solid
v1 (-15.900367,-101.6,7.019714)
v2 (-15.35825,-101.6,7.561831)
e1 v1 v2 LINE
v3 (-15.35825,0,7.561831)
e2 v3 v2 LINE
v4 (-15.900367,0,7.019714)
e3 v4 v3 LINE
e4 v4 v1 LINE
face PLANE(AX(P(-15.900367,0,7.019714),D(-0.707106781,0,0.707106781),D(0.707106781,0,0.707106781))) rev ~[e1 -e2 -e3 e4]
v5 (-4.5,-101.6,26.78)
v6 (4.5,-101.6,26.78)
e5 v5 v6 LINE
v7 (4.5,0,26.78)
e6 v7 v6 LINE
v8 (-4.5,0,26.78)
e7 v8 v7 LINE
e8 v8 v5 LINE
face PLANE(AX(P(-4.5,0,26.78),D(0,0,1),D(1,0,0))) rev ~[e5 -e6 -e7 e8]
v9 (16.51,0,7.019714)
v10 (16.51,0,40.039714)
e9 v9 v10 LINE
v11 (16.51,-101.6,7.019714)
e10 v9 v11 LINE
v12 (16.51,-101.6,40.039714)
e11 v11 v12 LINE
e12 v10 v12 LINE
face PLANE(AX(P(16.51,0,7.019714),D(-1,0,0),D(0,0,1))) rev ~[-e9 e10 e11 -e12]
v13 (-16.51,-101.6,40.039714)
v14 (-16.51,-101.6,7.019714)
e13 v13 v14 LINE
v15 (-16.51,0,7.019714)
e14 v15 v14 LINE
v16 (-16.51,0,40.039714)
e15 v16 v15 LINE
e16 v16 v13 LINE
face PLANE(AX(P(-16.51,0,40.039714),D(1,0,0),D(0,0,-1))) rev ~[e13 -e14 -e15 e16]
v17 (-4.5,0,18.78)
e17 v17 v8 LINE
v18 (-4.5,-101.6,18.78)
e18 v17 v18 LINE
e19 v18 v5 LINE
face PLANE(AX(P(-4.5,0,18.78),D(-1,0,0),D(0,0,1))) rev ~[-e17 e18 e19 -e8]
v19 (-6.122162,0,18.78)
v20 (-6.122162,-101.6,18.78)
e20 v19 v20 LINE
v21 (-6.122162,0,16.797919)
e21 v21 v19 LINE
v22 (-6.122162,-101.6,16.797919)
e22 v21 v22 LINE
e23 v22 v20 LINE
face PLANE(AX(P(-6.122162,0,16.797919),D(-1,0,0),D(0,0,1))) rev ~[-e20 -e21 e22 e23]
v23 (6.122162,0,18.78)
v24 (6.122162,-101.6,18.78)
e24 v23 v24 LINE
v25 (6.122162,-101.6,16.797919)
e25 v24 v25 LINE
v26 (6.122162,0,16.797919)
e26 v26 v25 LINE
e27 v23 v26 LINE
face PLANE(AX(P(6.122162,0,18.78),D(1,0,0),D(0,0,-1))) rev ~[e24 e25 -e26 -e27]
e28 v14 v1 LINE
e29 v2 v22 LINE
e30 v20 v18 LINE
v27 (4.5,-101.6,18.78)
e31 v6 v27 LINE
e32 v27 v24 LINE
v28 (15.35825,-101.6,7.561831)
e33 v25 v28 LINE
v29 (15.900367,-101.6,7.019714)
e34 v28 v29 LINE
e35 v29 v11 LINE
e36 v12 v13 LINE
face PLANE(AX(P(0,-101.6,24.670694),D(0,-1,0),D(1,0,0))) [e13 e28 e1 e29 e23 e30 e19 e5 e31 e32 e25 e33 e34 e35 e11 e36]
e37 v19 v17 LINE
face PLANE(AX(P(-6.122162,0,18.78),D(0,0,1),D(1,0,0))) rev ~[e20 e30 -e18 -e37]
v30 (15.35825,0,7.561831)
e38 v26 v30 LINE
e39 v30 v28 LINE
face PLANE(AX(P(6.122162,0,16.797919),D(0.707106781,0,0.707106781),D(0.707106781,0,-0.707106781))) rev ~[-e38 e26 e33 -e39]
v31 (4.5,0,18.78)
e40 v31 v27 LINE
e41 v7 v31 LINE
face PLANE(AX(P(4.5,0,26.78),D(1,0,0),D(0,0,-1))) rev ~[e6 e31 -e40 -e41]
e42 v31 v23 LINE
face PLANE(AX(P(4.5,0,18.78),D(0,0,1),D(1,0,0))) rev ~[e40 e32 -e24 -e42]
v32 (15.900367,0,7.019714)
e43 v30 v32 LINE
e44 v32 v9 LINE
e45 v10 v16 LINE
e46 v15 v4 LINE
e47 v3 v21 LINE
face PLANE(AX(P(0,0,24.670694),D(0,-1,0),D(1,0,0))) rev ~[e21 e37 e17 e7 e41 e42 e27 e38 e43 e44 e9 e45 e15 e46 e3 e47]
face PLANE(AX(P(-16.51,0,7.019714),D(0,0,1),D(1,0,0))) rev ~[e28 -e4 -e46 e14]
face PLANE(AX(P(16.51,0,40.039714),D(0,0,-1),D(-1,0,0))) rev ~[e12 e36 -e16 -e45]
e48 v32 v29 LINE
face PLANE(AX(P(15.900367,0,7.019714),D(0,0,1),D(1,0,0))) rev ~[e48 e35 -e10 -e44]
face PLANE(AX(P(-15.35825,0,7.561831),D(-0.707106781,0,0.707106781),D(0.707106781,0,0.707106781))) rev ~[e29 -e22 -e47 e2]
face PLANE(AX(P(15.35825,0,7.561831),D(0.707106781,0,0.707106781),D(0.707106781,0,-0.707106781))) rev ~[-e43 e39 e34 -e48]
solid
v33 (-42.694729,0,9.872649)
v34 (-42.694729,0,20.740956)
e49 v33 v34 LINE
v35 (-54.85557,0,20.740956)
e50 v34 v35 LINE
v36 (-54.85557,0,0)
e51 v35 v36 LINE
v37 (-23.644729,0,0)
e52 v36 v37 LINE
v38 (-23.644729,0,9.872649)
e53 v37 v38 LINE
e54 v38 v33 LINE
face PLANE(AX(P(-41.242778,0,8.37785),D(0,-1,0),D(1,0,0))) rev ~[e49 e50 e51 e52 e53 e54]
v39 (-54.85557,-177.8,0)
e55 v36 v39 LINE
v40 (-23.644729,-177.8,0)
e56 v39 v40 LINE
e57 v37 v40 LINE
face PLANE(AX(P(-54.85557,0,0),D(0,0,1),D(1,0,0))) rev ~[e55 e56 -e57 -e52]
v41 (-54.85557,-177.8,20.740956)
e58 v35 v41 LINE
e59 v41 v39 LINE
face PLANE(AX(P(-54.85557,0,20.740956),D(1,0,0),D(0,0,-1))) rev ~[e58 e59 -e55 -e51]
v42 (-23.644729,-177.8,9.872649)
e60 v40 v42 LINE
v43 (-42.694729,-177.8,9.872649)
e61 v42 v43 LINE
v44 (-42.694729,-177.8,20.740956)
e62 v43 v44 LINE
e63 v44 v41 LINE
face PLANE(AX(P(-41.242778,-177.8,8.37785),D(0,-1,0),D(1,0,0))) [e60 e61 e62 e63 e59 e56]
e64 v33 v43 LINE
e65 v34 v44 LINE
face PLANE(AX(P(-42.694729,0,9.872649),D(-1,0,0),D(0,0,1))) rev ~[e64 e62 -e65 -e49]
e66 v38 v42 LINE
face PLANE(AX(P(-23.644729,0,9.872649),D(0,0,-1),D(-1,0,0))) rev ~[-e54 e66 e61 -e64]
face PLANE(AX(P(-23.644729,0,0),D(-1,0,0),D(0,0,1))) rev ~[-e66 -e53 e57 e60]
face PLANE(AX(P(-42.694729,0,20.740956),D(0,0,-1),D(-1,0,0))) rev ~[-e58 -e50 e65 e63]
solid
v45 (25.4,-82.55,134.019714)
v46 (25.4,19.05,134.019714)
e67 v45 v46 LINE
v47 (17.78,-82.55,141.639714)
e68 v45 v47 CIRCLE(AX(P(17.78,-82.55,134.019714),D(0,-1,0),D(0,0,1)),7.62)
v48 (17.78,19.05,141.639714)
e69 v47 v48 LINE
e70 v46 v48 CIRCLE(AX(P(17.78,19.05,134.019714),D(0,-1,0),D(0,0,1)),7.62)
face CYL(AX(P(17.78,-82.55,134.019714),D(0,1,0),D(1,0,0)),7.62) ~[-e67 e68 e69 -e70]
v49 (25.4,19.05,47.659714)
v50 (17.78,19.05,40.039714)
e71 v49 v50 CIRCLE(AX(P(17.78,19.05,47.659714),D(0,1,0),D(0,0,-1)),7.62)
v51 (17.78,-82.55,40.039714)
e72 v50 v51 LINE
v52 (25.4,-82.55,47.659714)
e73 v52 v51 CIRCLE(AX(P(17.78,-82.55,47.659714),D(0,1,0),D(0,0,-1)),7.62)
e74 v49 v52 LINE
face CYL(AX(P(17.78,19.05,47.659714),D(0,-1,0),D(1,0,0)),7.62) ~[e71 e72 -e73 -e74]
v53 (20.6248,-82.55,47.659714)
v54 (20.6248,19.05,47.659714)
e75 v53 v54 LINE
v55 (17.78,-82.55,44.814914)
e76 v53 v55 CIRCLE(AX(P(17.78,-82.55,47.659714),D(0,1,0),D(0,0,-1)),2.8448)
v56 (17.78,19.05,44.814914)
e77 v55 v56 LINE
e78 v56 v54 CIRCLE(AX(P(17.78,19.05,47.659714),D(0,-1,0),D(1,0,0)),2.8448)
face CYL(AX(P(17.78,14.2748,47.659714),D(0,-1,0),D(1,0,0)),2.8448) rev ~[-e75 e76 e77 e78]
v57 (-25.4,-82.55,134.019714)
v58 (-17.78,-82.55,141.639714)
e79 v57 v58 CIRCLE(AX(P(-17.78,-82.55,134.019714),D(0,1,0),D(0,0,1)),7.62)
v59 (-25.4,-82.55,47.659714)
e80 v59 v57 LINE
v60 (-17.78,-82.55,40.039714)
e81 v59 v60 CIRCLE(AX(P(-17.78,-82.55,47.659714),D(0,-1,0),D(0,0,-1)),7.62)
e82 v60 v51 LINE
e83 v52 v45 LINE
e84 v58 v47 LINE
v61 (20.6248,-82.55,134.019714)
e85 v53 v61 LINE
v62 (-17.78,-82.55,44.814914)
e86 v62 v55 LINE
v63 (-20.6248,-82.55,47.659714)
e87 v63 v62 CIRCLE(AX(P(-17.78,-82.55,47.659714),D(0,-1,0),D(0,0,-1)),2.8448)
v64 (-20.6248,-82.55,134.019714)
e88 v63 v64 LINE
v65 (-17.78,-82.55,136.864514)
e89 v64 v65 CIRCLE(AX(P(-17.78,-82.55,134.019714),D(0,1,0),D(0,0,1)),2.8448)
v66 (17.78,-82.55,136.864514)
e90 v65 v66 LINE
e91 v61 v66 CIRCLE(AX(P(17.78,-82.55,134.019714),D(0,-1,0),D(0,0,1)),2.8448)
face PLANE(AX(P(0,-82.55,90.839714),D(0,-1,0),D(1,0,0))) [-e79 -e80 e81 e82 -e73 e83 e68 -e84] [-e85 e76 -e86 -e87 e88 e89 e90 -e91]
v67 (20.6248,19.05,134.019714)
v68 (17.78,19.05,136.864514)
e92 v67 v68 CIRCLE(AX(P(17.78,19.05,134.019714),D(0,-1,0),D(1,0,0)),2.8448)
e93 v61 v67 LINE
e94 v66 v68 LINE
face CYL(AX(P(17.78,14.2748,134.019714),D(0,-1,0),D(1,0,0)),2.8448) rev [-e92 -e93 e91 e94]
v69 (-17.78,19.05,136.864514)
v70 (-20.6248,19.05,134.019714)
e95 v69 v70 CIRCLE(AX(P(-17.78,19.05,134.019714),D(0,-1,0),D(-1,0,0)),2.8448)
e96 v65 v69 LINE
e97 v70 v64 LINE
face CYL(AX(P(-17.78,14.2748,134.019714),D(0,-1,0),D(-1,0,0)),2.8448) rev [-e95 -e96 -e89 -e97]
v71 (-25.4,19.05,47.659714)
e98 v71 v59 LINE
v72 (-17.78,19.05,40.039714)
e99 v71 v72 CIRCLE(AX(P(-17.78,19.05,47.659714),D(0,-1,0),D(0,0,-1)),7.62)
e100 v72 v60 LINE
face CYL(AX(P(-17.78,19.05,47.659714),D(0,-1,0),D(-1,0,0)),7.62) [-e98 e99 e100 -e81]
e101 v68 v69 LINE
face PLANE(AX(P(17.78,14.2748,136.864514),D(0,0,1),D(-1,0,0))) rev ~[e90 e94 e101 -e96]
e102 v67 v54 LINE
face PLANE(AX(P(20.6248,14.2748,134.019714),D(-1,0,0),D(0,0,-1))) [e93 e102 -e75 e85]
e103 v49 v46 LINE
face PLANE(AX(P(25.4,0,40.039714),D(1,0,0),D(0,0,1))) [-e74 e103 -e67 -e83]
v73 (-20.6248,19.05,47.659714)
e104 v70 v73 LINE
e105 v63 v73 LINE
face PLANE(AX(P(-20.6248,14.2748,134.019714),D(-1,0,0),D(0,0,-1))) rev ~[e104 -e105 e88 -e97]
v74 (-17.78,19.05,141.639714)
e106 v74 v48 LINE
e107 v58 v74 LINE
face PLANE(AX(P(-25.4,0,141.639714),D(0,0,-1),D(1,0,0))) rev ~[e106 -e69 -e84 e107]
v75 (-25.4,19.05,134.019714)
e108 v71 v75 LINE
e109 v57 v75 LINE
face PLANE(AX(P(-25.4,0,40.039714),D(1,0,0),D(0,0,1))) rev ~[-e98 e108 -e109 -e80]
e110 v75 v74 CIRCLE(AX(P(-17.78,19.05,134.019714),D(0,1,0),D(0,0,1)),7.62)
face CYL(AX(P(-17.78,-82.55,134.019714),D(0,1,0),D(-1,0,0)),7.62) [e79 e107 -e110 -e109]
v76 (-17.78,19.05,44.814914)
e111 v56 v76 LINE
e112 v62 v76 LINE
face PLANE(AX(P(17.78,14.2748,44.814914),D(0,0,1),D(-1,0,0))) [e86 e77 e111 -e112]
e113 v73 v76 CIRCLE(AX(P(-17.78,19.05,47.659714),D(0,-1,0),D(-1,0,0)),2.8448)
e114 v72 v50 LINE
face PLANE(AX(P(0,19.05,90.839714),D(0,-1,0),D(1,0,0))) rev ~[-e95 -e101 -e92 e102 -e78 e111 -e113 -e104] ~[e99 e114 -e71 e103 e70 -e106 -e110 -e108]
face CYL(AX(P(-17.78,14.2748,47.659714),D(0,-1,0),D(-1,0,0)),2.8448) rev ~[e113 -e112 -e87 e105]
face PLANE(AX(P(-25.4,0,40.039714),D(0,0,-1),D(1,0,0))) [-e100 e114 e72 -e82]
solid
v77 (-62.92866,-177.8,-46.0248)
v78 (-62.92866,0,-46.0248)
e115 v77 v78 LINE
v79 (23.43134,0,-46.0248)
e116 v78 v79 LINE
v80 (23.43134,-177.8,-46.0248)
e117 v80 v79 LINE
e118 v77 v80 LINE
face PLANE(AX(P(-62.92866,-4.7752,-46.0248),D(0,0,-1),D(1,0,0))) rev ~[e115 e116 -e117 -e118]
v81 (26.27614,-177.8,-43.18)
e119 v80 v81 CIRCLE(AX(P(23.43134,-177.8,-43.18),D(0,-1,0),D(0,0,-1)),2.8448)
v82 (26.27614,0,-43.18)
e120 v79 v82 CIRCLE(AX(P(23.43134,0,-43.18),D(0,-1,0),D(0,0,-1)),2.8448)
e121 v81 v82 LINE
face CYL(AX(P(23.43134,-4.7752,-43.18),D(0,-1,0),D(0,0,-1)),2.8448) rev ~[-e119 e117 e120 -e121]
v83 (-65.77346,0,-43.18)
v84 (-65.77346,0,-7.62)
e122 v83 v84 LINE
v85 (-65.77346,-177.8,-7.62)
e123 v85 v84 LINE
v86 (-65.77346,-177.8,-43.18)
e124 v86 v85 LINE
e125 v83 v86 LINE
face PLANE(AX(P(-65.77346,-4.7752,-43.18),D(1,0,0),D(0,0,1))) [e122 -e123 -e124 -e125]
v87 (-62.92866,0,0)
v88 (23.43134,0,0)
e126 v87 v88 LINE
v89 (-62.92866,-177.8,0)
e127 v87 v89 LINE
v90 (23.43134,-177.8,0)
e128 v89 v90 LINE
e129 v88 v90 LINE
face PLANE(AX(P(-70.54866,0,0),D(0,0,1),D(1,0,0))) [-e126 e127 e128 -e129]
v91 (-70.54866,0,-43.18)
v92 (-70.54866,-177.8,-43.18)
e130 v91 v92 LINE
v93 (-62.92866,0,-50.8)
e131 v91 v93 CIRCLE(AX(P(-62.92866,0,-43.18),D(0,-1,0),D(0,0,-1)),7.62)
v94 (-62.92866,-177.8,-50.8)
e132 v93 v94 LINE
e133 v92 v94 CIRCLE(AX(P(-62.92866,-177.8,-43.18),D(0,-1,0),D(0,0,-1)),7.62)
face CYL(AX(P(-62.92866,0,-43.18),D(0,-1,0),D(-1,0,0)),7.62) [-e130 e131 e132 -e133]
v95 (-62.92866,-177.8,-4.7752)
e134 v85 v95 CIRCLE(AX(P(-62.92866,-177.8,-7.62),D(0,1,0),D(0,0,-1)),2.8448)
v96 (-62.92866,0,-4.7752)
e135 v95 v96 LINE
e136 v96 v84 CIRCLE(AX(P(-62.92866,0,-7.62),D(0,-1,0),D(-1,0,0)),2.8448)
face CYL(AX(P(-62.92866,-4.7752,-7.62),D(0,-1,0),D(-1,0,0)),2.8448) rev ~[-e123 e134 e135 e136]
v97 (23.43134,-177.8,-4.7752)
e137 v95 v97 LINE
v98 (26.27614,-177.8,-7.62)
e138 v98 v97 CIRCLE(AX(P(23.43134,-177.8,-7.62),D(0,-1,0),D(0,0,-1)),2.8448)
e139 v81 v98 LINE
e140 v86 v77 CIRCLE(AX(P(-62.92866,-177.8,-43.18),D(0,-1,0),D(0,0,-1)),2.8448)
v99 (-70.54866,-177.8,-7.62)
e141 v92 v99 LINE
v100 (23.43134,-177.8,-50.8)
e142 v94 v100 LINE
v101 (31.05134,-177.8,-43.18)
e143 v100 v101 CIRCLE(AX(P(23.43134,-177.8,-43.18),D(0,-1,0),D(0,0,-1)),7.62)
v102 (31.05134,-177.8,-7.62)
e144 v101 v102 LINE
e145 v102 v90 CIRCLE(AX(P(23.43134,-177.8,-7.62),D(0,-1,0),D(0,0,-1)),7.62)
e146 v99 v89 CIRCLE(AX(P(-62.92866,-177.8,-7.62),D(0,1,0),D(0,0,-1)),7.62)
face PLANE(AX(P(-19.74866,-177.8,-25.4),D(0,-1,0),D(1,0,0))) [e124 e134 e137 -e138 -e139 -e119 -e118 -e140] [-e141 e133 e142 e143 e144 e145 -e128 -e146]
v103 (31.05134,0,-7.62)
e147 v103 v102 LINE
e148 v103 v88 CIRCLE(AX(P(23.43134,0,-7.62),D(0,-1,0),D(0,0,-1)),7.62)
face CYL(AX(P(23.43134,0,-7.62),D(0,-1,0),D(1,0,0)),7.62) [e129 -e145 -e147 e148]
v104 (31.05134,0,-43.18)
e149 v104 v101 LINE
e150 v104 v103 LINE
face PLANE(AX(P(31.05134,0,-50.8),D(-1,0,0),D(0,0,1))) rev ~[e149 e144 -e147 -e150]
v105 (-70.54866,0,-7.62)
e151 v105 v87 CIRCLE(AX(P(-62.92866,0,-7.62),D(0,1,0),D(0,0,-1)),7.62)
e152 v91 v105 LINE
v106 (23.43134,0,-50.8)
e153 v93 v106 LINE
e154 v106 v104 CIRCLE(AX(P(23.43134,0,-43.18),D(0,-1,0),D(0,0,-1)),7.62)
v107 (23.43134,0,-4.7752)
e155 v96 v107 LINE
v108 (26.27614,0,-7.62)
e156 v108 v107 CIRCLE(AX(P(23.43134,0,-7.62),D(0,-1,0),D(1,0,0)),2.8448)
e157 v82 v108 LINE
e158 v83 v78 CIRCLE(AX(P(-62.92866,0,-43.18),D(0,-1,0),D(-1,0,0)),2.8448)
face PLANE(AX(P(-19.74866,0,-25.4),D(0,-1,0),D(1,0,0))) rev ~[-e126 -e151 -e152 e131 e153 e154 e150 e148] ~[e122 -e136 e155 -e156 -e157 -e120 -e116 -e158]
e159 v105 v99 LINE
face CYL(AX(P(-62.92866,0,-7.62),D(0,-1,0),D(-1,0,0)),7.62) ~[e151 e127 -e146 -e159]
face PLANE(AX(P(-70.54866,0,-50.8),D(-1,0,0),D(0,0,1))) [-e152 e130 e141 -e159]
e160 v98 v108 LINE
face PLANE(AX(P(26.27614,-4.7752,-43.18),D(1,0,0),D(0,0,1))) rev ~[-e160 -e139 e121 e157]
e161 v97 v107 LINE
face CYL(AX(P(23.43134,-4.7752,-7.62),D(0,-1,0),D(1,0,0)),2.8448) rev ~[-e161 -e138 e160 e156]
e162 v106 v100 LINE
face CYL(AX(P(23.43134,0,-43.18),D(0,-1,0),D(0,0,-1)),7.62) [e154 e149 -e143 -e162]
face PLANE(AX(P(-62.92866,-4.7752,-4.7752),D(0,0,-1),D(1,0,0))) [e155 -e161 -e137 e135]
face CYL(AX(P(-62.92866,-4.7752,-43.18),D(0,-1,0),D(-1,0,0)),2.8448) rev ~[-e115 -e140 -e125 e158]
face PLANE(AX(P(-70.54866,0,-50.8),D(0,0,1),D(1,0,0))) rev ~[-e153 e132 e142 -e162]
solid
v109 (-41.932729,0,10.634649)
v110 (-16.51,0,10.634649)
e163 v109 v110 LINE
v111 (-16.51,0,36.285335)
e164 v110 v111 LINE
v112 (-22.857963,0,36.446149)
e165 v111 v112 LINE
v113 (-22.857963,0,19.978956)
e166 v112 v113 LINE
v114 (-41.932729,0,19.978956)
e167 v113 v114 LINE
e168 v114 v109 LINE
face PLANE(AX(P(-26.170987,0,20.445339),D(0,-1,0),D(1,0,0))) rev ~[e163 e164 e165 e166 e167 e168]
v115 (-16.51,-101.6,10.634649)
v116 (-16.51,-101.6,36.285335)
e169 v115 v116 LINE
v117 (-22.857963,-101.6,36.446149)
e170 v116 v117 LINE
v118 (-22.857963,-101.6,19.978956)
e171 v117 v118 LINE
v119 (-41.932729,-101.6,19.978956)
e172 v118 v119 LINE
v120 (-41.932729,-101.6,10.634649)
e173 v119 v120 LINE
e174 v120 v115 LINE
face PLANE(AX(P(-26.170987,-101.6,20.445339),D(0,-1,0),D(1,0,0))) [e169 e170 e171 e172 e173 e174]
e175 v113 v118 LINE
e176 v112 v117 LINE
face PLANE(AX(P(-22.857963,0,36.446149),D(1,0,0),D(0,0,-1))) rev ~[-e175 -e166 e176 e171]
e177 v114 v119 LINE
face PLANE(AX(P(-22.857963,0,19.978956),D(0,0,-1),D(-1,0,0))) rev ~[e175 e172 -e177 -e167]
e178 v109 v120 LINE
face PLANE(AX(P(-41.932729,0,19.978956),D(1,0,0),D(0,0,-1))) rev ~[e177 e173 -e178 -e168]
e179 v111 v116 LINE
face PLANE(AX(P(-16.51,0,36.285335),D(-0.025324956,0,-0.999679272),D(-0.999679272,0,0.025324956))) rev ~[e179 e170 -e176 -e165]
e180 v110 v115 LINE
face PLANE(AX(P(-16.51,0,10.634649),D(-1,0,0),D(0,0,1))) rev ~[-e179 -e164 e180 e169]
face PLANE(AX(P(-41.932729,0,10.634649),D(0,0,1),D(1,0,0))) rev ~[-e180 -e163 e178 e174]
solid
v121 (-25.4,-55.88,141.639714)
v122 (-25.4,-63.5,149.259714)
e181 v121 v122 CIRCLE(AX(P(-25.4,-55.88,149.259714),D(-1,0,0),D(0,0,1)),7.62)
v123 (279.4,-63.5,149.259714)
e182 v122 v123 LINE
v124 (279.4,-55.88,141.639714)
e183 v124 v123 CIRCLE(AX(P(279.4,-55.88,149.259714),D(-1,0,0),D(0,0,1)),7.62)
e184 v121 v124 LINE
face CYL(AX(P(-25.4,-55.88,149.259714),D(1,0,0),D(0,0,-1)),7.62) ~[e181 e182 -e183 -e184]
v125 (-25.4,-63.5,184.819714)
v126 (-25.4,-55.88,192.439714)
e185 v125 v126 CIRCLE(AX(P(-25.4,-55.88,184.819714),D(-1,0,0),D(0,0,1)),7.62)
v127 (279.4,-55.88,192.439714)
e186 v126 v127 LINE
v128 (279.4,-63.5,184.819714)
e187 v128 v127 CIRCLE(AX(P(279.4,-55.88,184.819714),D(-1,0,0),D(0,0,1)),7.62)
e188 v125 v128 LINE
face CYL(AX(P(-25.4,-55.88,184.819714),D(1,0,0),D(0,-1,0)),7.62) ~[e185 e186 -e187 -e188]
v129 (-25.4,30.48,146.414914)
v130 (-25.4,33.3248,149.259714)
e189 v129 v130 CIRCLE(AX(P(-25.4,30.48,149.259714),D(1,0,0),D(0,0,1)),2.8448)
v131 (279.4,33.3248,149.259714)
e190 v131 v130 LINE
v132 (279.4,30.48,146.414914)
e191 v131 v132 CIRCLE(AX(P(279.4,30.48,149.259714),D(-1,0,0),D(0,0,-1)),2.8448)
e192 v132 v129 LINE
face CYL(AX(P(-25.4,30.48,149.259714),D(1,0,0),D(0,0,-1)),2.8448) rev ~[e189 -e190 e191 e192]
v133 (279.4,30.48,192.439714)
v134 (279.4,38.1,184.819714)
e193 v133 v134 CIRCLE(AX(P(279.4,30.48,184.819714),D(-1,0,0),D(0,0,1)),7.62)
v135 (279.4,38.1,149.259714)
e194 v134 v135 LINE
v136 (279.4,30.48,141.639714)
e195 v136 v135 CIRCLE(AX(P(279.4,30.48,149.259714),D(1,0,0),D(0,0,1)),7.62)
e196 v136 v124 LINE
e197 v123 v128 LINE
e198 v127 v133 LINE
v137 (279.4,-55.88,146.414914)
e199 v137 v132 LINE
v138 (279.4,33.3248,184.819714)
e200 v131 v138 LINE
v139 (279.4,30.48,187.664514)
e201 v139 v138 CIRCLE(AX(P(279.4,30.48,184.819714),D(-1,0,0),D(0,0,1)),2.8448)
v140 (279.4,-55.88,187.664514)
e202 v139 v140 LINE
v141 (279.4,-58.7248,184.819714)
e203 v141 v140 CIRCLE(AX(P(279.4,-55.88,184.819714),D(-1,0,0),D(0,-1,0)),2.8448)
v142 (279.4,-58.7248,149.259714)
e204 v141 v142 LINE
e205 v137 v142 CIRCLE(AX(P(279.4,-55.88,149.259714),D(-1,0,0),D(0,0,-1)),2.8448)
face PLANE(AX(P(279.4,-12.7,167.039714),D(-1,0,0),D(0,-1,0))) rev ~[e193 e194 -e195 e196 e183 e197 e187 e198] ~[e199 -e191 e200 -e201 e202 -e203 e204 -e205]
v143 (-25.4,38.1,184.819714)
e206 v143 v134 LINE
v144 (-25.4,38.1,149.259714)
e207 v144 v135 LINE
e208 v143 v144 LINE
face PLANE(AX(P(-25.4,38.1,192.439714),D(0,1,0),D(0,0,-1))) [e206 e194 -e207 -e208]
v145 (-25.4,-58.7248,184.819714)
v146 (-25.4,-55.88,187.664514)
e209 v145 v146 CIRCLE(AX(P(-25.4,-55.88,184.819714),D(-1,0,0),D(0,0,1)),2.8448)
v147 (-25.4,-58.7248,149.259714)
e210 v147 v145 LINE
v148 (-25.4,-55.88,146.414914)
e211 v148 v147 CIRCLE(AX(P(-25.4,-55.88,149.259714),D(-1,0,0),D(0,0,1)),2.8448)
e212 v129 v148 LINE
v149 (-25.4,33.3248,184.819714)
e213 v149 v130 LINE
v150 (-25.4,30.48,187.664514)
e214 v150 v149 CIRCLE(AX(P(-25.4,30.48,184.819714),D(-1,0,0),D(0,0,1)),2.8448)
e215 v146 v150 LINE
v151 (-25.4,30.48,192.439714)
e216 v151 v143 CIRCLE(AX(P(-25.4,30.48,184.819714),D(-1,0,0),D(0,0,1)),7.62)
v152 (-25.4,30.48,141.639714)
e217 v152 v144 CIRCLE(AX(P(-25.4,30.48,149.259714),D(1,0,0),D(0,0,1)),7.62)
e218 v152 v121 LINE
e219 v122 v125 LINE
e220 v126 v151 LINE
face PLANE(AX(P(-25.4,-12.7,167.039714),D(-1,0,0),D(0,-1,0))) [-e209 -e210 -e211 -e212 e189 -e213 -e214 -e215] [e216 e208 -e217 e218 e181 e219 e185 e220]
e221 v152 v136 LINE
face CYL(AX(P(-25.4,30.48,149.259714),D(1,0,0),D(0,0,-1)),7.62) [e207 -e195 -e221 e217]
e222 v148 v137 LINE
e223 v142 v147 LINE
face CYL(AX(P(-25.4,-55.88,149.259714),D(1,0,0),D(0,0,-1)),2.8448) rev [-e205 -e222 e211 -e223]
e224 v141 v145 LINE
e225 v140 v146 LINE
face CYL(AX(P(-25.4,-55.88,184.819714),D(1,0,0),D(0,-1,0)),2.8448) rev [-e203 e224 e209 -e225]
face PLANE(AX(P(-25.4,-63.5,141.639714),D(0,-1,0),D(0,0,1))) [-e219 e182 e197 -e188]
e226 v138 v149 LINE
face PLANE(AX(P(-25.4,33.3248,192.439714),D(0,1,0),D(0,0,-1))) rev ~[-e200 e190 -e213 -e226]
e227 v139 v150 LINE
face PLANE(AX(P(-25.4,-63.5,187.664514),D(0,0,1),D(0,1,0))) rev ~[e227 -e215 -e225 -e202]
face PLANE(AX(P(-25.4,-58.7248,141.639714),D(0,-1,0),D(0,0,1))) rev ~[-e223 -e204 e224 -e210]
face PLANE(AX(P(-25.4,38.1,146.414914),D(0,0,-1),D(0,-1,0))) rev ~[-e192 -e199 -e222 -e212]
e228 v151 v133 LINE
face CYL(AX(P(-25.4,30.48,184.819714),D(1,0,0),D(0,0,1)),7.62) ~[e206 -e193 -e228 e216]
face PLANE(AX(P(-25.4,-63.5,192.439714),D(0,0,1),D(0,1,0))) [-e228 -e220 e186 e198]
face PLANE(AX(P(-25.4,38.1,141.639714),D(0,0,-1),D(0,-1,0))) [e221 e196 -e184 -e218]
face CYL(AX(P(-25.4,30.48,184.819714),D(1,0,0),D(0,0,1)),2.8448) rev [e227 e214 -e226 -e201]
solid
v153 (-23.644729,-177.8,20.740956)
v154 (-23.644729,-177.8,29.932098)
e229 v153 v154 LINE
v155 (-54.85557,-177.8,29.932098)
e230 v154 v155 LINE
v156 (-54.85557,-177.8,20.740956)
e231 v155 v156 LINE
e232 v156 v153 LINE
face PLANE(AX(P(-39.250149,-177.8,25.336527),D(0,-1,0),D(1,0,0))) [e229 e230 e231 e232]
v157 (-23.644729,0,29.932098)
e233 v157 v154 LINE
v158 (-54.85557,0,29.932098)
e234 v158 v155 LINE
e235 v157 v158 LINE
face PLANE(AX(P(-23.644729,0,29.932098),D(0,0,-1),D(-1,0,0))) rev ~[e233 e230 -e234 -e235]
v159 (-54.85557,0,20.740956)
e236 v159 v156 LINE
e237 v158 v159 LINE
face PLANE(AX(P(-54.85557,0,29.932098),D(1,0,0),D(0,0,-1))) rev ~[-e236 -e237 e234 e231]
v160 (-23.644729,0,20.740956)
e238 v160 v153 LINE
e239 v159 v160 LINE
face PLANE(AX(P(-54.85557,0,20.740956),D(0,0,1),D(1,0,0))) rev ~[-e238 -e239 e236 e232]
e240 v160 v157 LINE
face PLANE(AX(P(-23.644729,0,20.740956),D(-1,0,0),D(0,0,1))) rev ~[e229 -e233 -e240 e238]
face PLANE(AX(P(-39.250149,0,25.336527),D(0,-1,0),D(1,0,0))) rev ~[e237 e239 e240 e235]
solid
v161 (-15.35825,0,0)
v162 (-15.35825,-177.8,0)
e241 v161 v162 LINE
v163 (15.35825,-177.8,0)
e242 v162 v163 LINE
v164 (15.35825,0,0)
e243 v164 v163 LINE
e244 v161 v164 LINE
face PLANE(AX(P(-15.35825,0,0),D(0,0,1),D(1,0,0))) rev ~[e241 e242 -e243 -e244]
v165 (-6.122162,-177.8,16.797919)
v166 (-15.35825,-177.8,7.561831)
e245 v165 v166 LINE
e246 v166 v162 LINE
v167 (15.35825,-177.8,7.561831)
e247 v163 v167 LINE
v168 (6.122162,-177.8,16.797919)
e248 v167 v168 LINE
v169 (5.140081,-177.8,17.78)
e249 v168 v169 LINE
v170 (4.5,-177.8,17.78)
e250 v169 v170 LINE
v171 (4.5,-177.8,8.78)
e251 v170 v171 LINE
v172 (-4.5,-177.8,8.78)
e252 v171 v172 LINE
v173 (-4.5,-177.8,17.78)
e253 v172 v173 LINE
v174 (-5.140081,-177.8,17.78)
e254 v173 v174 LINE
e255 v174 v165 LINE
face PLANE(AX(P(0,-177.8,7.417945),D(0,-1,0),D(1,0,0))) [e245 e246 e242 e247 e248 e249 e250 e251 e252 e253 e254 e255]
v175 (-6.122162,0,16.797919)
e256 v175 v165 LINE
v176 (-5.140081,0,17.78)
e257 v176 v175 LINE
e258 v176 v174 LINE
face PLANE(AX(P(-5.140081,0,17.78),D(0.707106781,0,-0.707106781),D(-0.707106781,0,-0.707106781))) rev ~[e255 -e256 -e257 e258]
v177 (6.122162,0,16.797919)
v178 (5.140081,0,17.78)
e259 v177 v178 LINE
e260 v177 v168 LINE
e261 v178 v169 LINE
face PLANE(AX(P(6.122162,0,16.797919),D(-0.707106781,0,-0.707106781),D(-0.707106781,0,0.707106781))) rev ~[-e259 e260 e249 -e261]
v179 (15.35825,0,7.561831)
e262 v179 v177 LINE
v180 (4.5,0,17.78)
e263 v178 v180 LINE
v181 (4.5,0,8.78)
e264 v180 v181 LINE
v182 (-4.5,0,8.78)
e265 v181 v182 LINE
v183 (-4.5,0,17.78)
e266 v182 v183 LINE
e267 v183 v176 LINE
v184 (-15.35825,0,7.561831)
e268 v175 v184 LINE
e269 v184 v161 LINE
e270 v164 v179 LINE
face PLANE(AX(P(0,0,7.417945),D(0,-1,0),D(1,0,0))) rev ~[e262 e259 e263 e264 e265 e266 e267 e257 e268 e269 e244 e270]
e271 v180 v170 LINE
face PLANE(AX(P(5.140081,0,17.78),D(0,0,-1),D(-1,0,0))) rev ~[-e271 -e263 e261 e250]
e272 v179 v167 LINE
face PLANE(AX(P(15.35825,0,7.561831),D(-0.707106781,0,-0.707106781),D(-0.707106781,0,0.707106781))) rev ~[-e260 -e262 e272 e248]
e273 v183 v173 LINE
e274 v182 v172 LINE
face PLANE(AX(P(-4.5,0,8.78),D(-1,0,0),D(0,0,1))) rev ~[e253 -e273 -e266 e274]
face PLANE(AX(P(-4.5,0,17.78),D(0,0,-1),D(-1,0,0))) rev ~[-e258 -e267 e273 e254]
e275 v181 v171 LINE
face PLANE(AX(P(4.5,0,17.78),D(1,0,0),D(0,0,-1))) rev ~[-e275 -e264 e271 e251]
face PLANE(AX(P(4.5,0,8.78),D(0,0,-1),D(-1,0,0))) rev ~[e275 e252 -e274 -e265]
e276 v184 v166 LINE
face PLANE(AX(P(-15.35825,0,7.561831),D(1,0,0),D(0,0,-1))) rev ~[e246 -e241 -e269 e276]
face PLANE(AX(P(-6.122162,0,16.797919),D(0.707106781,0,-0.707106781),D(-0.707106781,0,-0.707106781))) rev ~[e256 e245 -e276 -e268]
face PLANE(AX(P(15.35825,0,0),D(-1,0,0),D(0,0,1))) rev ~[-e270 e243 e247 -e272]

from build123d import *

# Parameters (mm, degrees)
F1_DEPTH       = 177.8
F2_DEPTH       = 101.6
F4_DEPTH       = 101.6
F5_DEPTH       = 177.8
F6_DEPTH       = 177.8
F7_W           = 101.6
F7_H           = 50.8
F8_DEPTH       = 177.8
F9_R           = 7.62
F10_T          = -4.7752
F11_DEPTH      = 25.4
F12_W          = 50.8
F12_H          = 101.6
F13_DEPTH      = 82.55
F13_DEPTH_BACK = 19.05
F14_R          = 7.62
F15_T          = -4.7752
F16_DEPTH      = 25.4
F18_DEPTH      = 304.8
F19_R          = 7.62
F20_T          = -4.7752
F21_DEPTH      = 25.4


with BuildPart() as f1:
    # F0 (on Front) → F1 (new body)
    with BuildSketch(Plane.XZ):
        Polygon((-15.3582496569, 0), (0, 0), (15.3582496569, 0), (15.3582496569, 7.5618312694), (6.1221620999, 16.7979188263), (5.1400809263, 17.78), (4.5, 17.78), (4.5, 8.78), (0, 8.78), (-4.5, 8.78), (-4.5, 17.78), (-5.1400809263, 17.78), (-6.1221620999, 16.7979188263), (-15.3582496569, 7.5618312694), align=None)
    extrude(amount=F1_DEPTH)


with BuildPart() as f2:
    # F0 (on Front) → F2 (new body)
    with BuildSketch(Plane.XZ):
        Polygon((6.1221620999, 16.7979188263), (15.3582496569, 7.5618312694), (15.9003665005, 7.0197144258), (16.51, 7.0197144258), (16.51, 40.0397144258), (0, 40.0397144258), (-16.51, 40.0397144258), (-16.51, 7.0197144258), (-15.9003665005, 7.0197144258), (-15.3582496569, 7.5618312694), (-6.1221620999, 16.7979188263), (-6.1221620999, 18.78), (-4.5, 18.78), (-4.5, 26.78), (0, 26.78), (4.5, 26.78), (4.5, 18.78), (6.1221620999, 18.78), align=None)
    extrude(amount=F2_DEPTH)


with BuildPart() as f4:
    # F3 (on Front) → F4 (new body, through all)
    with BuildSketch(Plane.XZ):
        Polygon((-41.9327285861, 10.634648865), (-16.51, 10.634648865), (-16.51, 36.2853350896), (-22.8579633763, 36.446148563), (-22.8579633763, 19.978956068), (-41.9327285861, 19.978956068), align=None)
    extrude(amount=F4_DEPTH)


with BuildPart() as f5:
    # F3 (on Front) → F5 (new body, through all)
    with BuildSketch(Plane.XZ):
        Polygon((-54.8555701971, 29.9320984632), (-54.8555701971, 20.740956068), (-42.6947285861, 20.740956068), (-23.6447285861, 20.740956068), (-23.6447285861, 29.9320984632), align=None)
    extrude(amount=F5_DEPTH)


with BuildPart() as f6:
    # F3 (on Front) → F6 (new body, through all)
    with BuildSketch(Plane.XZ):
        Polygon((-54.8555701971, 0), (-23.6447285861, 0), (-23.6447285861, 4.6855933033), (-23.6447285861, 7.5618312694), (-23.6447285861, 9.872648865), (-42.6947285861, 9.872648865), (-42.6947285861, 20.740956068), (-54.8555701971, 20.740956068), align=None)
    extrude(amount=F6_DEPTH)


with BuildPart() as f8:
    # F7 (on Front) → F8 (new body, through all)
    with BuildSketch(Plane.XZ):
        with Locations((-19.7486602701, -25.4)):
            Rectangle(F7_W, F7_H)
    extrude(amount=F8_DEPTH)

    # F9
    f9_edges = [f8.edges().sort_by_distance(p)[0] for p in [
        (-70.54866, -88.9, 0),
        (31.05134, -88.9, 0),
        (-70.54866, -88.9, -50.8),
        (31.05134, -88.9, -50.8),
    ]]
    fillet(f9_edges, radius=F9_R)

    # F10
    f10_openings = [f8.faces().sort_by_distance(p)[0] for p in [
        (-19.74866, -177.8, -25.4),
    ]]
    offset(amount=F10_T, openings=f10_openings)

    # F11 (cut): a face of the model
    f11_faces = [f8.faces().sort_by_distance(p)[0] for p in [
        (-19.7486602701, -4.7752, -25.4),
    ]]
    extrude(f11_faces, amount=-F11_DEPTH, mode=Mode.SUBTRACT)


with BuildPart() as f13:
    # F12 (on Front) → F13 (new body, two sides)
    with BuildSketch(Plane.XZ) as f13_sk:
        with Locations((0, 90.8397144258)):
            Rectangle(F12_W, F12_H)
    extrude(amount=F13_DEPTH)
    extrude(f13_sk.sketch, amount=-F13_DEPTH_BACK)

    # F14
    f14_edges = [f13.edges().sort_by_distance(p)[0] for p in [
        (25.4, -31.75, 141.639714),
        (25.4, -31.75, 40.039714),
        (-25.4, -31.75, 40.039714),
        (-25.4, -31.75, 141.639714),
    ]]
    fillet(f14_edges, radius=F14_R)

    # F15
    f15_openings = [f13.faces().sort_by_distance(p)[0] for p in [
        (0, -82.55, 90.839714),
    ]]
    offset(amount=F15_T, openings=f15_openings)

    # F16 (cut): a face of the model
    f16_faces = [f13.faces().sort_by_distance(p)[0] for p in [
        (0, 14.2748, 90.8397144258),
    ]]
    extrude(f16_faces, amount=-F16_DEPTH, mode=Mode.SUBTRACT)


with BuildPart() as f18:
    # F17 (on face) → F18 (new body)
    with BuildSketch(Plane(origin=(-25.4, 0, 0), x_dir=(0, -1, 0), z_dir=(-1, 0, 0))):
        Polygon((-38.1, 141.6397144258), (-19.05, 141.6397144258), (63.5, 141.6397144258), (63.5, 192.4397144258), (-38.1, 192.4397144258), align=None)
    extrude(amount=-F18_DEPTH)

    # F19
    f19_edges = [f18.edges().sort_by_distance(p)[0] for p in [
        (127, 38.1, 141.639714),
        (127, -63.5, 141.639714),
        (127, -63.5, 192.439714),
        (127, 38.1, 192.439714),
    ]]
    fillet(f19_edges, radius=F19_R)

    # F20
    f20_openings = [f18.faces().sort_by_distance(p)[0] for p in [
        (-25.4, -12.7, 167.039714),
    ]]
    offset(amount=F20_T, openings=f20_openings)

    # F21 (cut): a face of the model
    f21_faces = [f18.faces().sort_by_distance(p)[0] for p in [
        (274.6248, -12.7, 167.0397144258),
    ]]
    extrude(f21_faces, amount=-F21_DEPTH, mode=Mode.SUBTRACT)


solid = Compound([f1.part, f2.part, f4.part, f5.part, f6.part, f8.part, f13.part, f18.part])
